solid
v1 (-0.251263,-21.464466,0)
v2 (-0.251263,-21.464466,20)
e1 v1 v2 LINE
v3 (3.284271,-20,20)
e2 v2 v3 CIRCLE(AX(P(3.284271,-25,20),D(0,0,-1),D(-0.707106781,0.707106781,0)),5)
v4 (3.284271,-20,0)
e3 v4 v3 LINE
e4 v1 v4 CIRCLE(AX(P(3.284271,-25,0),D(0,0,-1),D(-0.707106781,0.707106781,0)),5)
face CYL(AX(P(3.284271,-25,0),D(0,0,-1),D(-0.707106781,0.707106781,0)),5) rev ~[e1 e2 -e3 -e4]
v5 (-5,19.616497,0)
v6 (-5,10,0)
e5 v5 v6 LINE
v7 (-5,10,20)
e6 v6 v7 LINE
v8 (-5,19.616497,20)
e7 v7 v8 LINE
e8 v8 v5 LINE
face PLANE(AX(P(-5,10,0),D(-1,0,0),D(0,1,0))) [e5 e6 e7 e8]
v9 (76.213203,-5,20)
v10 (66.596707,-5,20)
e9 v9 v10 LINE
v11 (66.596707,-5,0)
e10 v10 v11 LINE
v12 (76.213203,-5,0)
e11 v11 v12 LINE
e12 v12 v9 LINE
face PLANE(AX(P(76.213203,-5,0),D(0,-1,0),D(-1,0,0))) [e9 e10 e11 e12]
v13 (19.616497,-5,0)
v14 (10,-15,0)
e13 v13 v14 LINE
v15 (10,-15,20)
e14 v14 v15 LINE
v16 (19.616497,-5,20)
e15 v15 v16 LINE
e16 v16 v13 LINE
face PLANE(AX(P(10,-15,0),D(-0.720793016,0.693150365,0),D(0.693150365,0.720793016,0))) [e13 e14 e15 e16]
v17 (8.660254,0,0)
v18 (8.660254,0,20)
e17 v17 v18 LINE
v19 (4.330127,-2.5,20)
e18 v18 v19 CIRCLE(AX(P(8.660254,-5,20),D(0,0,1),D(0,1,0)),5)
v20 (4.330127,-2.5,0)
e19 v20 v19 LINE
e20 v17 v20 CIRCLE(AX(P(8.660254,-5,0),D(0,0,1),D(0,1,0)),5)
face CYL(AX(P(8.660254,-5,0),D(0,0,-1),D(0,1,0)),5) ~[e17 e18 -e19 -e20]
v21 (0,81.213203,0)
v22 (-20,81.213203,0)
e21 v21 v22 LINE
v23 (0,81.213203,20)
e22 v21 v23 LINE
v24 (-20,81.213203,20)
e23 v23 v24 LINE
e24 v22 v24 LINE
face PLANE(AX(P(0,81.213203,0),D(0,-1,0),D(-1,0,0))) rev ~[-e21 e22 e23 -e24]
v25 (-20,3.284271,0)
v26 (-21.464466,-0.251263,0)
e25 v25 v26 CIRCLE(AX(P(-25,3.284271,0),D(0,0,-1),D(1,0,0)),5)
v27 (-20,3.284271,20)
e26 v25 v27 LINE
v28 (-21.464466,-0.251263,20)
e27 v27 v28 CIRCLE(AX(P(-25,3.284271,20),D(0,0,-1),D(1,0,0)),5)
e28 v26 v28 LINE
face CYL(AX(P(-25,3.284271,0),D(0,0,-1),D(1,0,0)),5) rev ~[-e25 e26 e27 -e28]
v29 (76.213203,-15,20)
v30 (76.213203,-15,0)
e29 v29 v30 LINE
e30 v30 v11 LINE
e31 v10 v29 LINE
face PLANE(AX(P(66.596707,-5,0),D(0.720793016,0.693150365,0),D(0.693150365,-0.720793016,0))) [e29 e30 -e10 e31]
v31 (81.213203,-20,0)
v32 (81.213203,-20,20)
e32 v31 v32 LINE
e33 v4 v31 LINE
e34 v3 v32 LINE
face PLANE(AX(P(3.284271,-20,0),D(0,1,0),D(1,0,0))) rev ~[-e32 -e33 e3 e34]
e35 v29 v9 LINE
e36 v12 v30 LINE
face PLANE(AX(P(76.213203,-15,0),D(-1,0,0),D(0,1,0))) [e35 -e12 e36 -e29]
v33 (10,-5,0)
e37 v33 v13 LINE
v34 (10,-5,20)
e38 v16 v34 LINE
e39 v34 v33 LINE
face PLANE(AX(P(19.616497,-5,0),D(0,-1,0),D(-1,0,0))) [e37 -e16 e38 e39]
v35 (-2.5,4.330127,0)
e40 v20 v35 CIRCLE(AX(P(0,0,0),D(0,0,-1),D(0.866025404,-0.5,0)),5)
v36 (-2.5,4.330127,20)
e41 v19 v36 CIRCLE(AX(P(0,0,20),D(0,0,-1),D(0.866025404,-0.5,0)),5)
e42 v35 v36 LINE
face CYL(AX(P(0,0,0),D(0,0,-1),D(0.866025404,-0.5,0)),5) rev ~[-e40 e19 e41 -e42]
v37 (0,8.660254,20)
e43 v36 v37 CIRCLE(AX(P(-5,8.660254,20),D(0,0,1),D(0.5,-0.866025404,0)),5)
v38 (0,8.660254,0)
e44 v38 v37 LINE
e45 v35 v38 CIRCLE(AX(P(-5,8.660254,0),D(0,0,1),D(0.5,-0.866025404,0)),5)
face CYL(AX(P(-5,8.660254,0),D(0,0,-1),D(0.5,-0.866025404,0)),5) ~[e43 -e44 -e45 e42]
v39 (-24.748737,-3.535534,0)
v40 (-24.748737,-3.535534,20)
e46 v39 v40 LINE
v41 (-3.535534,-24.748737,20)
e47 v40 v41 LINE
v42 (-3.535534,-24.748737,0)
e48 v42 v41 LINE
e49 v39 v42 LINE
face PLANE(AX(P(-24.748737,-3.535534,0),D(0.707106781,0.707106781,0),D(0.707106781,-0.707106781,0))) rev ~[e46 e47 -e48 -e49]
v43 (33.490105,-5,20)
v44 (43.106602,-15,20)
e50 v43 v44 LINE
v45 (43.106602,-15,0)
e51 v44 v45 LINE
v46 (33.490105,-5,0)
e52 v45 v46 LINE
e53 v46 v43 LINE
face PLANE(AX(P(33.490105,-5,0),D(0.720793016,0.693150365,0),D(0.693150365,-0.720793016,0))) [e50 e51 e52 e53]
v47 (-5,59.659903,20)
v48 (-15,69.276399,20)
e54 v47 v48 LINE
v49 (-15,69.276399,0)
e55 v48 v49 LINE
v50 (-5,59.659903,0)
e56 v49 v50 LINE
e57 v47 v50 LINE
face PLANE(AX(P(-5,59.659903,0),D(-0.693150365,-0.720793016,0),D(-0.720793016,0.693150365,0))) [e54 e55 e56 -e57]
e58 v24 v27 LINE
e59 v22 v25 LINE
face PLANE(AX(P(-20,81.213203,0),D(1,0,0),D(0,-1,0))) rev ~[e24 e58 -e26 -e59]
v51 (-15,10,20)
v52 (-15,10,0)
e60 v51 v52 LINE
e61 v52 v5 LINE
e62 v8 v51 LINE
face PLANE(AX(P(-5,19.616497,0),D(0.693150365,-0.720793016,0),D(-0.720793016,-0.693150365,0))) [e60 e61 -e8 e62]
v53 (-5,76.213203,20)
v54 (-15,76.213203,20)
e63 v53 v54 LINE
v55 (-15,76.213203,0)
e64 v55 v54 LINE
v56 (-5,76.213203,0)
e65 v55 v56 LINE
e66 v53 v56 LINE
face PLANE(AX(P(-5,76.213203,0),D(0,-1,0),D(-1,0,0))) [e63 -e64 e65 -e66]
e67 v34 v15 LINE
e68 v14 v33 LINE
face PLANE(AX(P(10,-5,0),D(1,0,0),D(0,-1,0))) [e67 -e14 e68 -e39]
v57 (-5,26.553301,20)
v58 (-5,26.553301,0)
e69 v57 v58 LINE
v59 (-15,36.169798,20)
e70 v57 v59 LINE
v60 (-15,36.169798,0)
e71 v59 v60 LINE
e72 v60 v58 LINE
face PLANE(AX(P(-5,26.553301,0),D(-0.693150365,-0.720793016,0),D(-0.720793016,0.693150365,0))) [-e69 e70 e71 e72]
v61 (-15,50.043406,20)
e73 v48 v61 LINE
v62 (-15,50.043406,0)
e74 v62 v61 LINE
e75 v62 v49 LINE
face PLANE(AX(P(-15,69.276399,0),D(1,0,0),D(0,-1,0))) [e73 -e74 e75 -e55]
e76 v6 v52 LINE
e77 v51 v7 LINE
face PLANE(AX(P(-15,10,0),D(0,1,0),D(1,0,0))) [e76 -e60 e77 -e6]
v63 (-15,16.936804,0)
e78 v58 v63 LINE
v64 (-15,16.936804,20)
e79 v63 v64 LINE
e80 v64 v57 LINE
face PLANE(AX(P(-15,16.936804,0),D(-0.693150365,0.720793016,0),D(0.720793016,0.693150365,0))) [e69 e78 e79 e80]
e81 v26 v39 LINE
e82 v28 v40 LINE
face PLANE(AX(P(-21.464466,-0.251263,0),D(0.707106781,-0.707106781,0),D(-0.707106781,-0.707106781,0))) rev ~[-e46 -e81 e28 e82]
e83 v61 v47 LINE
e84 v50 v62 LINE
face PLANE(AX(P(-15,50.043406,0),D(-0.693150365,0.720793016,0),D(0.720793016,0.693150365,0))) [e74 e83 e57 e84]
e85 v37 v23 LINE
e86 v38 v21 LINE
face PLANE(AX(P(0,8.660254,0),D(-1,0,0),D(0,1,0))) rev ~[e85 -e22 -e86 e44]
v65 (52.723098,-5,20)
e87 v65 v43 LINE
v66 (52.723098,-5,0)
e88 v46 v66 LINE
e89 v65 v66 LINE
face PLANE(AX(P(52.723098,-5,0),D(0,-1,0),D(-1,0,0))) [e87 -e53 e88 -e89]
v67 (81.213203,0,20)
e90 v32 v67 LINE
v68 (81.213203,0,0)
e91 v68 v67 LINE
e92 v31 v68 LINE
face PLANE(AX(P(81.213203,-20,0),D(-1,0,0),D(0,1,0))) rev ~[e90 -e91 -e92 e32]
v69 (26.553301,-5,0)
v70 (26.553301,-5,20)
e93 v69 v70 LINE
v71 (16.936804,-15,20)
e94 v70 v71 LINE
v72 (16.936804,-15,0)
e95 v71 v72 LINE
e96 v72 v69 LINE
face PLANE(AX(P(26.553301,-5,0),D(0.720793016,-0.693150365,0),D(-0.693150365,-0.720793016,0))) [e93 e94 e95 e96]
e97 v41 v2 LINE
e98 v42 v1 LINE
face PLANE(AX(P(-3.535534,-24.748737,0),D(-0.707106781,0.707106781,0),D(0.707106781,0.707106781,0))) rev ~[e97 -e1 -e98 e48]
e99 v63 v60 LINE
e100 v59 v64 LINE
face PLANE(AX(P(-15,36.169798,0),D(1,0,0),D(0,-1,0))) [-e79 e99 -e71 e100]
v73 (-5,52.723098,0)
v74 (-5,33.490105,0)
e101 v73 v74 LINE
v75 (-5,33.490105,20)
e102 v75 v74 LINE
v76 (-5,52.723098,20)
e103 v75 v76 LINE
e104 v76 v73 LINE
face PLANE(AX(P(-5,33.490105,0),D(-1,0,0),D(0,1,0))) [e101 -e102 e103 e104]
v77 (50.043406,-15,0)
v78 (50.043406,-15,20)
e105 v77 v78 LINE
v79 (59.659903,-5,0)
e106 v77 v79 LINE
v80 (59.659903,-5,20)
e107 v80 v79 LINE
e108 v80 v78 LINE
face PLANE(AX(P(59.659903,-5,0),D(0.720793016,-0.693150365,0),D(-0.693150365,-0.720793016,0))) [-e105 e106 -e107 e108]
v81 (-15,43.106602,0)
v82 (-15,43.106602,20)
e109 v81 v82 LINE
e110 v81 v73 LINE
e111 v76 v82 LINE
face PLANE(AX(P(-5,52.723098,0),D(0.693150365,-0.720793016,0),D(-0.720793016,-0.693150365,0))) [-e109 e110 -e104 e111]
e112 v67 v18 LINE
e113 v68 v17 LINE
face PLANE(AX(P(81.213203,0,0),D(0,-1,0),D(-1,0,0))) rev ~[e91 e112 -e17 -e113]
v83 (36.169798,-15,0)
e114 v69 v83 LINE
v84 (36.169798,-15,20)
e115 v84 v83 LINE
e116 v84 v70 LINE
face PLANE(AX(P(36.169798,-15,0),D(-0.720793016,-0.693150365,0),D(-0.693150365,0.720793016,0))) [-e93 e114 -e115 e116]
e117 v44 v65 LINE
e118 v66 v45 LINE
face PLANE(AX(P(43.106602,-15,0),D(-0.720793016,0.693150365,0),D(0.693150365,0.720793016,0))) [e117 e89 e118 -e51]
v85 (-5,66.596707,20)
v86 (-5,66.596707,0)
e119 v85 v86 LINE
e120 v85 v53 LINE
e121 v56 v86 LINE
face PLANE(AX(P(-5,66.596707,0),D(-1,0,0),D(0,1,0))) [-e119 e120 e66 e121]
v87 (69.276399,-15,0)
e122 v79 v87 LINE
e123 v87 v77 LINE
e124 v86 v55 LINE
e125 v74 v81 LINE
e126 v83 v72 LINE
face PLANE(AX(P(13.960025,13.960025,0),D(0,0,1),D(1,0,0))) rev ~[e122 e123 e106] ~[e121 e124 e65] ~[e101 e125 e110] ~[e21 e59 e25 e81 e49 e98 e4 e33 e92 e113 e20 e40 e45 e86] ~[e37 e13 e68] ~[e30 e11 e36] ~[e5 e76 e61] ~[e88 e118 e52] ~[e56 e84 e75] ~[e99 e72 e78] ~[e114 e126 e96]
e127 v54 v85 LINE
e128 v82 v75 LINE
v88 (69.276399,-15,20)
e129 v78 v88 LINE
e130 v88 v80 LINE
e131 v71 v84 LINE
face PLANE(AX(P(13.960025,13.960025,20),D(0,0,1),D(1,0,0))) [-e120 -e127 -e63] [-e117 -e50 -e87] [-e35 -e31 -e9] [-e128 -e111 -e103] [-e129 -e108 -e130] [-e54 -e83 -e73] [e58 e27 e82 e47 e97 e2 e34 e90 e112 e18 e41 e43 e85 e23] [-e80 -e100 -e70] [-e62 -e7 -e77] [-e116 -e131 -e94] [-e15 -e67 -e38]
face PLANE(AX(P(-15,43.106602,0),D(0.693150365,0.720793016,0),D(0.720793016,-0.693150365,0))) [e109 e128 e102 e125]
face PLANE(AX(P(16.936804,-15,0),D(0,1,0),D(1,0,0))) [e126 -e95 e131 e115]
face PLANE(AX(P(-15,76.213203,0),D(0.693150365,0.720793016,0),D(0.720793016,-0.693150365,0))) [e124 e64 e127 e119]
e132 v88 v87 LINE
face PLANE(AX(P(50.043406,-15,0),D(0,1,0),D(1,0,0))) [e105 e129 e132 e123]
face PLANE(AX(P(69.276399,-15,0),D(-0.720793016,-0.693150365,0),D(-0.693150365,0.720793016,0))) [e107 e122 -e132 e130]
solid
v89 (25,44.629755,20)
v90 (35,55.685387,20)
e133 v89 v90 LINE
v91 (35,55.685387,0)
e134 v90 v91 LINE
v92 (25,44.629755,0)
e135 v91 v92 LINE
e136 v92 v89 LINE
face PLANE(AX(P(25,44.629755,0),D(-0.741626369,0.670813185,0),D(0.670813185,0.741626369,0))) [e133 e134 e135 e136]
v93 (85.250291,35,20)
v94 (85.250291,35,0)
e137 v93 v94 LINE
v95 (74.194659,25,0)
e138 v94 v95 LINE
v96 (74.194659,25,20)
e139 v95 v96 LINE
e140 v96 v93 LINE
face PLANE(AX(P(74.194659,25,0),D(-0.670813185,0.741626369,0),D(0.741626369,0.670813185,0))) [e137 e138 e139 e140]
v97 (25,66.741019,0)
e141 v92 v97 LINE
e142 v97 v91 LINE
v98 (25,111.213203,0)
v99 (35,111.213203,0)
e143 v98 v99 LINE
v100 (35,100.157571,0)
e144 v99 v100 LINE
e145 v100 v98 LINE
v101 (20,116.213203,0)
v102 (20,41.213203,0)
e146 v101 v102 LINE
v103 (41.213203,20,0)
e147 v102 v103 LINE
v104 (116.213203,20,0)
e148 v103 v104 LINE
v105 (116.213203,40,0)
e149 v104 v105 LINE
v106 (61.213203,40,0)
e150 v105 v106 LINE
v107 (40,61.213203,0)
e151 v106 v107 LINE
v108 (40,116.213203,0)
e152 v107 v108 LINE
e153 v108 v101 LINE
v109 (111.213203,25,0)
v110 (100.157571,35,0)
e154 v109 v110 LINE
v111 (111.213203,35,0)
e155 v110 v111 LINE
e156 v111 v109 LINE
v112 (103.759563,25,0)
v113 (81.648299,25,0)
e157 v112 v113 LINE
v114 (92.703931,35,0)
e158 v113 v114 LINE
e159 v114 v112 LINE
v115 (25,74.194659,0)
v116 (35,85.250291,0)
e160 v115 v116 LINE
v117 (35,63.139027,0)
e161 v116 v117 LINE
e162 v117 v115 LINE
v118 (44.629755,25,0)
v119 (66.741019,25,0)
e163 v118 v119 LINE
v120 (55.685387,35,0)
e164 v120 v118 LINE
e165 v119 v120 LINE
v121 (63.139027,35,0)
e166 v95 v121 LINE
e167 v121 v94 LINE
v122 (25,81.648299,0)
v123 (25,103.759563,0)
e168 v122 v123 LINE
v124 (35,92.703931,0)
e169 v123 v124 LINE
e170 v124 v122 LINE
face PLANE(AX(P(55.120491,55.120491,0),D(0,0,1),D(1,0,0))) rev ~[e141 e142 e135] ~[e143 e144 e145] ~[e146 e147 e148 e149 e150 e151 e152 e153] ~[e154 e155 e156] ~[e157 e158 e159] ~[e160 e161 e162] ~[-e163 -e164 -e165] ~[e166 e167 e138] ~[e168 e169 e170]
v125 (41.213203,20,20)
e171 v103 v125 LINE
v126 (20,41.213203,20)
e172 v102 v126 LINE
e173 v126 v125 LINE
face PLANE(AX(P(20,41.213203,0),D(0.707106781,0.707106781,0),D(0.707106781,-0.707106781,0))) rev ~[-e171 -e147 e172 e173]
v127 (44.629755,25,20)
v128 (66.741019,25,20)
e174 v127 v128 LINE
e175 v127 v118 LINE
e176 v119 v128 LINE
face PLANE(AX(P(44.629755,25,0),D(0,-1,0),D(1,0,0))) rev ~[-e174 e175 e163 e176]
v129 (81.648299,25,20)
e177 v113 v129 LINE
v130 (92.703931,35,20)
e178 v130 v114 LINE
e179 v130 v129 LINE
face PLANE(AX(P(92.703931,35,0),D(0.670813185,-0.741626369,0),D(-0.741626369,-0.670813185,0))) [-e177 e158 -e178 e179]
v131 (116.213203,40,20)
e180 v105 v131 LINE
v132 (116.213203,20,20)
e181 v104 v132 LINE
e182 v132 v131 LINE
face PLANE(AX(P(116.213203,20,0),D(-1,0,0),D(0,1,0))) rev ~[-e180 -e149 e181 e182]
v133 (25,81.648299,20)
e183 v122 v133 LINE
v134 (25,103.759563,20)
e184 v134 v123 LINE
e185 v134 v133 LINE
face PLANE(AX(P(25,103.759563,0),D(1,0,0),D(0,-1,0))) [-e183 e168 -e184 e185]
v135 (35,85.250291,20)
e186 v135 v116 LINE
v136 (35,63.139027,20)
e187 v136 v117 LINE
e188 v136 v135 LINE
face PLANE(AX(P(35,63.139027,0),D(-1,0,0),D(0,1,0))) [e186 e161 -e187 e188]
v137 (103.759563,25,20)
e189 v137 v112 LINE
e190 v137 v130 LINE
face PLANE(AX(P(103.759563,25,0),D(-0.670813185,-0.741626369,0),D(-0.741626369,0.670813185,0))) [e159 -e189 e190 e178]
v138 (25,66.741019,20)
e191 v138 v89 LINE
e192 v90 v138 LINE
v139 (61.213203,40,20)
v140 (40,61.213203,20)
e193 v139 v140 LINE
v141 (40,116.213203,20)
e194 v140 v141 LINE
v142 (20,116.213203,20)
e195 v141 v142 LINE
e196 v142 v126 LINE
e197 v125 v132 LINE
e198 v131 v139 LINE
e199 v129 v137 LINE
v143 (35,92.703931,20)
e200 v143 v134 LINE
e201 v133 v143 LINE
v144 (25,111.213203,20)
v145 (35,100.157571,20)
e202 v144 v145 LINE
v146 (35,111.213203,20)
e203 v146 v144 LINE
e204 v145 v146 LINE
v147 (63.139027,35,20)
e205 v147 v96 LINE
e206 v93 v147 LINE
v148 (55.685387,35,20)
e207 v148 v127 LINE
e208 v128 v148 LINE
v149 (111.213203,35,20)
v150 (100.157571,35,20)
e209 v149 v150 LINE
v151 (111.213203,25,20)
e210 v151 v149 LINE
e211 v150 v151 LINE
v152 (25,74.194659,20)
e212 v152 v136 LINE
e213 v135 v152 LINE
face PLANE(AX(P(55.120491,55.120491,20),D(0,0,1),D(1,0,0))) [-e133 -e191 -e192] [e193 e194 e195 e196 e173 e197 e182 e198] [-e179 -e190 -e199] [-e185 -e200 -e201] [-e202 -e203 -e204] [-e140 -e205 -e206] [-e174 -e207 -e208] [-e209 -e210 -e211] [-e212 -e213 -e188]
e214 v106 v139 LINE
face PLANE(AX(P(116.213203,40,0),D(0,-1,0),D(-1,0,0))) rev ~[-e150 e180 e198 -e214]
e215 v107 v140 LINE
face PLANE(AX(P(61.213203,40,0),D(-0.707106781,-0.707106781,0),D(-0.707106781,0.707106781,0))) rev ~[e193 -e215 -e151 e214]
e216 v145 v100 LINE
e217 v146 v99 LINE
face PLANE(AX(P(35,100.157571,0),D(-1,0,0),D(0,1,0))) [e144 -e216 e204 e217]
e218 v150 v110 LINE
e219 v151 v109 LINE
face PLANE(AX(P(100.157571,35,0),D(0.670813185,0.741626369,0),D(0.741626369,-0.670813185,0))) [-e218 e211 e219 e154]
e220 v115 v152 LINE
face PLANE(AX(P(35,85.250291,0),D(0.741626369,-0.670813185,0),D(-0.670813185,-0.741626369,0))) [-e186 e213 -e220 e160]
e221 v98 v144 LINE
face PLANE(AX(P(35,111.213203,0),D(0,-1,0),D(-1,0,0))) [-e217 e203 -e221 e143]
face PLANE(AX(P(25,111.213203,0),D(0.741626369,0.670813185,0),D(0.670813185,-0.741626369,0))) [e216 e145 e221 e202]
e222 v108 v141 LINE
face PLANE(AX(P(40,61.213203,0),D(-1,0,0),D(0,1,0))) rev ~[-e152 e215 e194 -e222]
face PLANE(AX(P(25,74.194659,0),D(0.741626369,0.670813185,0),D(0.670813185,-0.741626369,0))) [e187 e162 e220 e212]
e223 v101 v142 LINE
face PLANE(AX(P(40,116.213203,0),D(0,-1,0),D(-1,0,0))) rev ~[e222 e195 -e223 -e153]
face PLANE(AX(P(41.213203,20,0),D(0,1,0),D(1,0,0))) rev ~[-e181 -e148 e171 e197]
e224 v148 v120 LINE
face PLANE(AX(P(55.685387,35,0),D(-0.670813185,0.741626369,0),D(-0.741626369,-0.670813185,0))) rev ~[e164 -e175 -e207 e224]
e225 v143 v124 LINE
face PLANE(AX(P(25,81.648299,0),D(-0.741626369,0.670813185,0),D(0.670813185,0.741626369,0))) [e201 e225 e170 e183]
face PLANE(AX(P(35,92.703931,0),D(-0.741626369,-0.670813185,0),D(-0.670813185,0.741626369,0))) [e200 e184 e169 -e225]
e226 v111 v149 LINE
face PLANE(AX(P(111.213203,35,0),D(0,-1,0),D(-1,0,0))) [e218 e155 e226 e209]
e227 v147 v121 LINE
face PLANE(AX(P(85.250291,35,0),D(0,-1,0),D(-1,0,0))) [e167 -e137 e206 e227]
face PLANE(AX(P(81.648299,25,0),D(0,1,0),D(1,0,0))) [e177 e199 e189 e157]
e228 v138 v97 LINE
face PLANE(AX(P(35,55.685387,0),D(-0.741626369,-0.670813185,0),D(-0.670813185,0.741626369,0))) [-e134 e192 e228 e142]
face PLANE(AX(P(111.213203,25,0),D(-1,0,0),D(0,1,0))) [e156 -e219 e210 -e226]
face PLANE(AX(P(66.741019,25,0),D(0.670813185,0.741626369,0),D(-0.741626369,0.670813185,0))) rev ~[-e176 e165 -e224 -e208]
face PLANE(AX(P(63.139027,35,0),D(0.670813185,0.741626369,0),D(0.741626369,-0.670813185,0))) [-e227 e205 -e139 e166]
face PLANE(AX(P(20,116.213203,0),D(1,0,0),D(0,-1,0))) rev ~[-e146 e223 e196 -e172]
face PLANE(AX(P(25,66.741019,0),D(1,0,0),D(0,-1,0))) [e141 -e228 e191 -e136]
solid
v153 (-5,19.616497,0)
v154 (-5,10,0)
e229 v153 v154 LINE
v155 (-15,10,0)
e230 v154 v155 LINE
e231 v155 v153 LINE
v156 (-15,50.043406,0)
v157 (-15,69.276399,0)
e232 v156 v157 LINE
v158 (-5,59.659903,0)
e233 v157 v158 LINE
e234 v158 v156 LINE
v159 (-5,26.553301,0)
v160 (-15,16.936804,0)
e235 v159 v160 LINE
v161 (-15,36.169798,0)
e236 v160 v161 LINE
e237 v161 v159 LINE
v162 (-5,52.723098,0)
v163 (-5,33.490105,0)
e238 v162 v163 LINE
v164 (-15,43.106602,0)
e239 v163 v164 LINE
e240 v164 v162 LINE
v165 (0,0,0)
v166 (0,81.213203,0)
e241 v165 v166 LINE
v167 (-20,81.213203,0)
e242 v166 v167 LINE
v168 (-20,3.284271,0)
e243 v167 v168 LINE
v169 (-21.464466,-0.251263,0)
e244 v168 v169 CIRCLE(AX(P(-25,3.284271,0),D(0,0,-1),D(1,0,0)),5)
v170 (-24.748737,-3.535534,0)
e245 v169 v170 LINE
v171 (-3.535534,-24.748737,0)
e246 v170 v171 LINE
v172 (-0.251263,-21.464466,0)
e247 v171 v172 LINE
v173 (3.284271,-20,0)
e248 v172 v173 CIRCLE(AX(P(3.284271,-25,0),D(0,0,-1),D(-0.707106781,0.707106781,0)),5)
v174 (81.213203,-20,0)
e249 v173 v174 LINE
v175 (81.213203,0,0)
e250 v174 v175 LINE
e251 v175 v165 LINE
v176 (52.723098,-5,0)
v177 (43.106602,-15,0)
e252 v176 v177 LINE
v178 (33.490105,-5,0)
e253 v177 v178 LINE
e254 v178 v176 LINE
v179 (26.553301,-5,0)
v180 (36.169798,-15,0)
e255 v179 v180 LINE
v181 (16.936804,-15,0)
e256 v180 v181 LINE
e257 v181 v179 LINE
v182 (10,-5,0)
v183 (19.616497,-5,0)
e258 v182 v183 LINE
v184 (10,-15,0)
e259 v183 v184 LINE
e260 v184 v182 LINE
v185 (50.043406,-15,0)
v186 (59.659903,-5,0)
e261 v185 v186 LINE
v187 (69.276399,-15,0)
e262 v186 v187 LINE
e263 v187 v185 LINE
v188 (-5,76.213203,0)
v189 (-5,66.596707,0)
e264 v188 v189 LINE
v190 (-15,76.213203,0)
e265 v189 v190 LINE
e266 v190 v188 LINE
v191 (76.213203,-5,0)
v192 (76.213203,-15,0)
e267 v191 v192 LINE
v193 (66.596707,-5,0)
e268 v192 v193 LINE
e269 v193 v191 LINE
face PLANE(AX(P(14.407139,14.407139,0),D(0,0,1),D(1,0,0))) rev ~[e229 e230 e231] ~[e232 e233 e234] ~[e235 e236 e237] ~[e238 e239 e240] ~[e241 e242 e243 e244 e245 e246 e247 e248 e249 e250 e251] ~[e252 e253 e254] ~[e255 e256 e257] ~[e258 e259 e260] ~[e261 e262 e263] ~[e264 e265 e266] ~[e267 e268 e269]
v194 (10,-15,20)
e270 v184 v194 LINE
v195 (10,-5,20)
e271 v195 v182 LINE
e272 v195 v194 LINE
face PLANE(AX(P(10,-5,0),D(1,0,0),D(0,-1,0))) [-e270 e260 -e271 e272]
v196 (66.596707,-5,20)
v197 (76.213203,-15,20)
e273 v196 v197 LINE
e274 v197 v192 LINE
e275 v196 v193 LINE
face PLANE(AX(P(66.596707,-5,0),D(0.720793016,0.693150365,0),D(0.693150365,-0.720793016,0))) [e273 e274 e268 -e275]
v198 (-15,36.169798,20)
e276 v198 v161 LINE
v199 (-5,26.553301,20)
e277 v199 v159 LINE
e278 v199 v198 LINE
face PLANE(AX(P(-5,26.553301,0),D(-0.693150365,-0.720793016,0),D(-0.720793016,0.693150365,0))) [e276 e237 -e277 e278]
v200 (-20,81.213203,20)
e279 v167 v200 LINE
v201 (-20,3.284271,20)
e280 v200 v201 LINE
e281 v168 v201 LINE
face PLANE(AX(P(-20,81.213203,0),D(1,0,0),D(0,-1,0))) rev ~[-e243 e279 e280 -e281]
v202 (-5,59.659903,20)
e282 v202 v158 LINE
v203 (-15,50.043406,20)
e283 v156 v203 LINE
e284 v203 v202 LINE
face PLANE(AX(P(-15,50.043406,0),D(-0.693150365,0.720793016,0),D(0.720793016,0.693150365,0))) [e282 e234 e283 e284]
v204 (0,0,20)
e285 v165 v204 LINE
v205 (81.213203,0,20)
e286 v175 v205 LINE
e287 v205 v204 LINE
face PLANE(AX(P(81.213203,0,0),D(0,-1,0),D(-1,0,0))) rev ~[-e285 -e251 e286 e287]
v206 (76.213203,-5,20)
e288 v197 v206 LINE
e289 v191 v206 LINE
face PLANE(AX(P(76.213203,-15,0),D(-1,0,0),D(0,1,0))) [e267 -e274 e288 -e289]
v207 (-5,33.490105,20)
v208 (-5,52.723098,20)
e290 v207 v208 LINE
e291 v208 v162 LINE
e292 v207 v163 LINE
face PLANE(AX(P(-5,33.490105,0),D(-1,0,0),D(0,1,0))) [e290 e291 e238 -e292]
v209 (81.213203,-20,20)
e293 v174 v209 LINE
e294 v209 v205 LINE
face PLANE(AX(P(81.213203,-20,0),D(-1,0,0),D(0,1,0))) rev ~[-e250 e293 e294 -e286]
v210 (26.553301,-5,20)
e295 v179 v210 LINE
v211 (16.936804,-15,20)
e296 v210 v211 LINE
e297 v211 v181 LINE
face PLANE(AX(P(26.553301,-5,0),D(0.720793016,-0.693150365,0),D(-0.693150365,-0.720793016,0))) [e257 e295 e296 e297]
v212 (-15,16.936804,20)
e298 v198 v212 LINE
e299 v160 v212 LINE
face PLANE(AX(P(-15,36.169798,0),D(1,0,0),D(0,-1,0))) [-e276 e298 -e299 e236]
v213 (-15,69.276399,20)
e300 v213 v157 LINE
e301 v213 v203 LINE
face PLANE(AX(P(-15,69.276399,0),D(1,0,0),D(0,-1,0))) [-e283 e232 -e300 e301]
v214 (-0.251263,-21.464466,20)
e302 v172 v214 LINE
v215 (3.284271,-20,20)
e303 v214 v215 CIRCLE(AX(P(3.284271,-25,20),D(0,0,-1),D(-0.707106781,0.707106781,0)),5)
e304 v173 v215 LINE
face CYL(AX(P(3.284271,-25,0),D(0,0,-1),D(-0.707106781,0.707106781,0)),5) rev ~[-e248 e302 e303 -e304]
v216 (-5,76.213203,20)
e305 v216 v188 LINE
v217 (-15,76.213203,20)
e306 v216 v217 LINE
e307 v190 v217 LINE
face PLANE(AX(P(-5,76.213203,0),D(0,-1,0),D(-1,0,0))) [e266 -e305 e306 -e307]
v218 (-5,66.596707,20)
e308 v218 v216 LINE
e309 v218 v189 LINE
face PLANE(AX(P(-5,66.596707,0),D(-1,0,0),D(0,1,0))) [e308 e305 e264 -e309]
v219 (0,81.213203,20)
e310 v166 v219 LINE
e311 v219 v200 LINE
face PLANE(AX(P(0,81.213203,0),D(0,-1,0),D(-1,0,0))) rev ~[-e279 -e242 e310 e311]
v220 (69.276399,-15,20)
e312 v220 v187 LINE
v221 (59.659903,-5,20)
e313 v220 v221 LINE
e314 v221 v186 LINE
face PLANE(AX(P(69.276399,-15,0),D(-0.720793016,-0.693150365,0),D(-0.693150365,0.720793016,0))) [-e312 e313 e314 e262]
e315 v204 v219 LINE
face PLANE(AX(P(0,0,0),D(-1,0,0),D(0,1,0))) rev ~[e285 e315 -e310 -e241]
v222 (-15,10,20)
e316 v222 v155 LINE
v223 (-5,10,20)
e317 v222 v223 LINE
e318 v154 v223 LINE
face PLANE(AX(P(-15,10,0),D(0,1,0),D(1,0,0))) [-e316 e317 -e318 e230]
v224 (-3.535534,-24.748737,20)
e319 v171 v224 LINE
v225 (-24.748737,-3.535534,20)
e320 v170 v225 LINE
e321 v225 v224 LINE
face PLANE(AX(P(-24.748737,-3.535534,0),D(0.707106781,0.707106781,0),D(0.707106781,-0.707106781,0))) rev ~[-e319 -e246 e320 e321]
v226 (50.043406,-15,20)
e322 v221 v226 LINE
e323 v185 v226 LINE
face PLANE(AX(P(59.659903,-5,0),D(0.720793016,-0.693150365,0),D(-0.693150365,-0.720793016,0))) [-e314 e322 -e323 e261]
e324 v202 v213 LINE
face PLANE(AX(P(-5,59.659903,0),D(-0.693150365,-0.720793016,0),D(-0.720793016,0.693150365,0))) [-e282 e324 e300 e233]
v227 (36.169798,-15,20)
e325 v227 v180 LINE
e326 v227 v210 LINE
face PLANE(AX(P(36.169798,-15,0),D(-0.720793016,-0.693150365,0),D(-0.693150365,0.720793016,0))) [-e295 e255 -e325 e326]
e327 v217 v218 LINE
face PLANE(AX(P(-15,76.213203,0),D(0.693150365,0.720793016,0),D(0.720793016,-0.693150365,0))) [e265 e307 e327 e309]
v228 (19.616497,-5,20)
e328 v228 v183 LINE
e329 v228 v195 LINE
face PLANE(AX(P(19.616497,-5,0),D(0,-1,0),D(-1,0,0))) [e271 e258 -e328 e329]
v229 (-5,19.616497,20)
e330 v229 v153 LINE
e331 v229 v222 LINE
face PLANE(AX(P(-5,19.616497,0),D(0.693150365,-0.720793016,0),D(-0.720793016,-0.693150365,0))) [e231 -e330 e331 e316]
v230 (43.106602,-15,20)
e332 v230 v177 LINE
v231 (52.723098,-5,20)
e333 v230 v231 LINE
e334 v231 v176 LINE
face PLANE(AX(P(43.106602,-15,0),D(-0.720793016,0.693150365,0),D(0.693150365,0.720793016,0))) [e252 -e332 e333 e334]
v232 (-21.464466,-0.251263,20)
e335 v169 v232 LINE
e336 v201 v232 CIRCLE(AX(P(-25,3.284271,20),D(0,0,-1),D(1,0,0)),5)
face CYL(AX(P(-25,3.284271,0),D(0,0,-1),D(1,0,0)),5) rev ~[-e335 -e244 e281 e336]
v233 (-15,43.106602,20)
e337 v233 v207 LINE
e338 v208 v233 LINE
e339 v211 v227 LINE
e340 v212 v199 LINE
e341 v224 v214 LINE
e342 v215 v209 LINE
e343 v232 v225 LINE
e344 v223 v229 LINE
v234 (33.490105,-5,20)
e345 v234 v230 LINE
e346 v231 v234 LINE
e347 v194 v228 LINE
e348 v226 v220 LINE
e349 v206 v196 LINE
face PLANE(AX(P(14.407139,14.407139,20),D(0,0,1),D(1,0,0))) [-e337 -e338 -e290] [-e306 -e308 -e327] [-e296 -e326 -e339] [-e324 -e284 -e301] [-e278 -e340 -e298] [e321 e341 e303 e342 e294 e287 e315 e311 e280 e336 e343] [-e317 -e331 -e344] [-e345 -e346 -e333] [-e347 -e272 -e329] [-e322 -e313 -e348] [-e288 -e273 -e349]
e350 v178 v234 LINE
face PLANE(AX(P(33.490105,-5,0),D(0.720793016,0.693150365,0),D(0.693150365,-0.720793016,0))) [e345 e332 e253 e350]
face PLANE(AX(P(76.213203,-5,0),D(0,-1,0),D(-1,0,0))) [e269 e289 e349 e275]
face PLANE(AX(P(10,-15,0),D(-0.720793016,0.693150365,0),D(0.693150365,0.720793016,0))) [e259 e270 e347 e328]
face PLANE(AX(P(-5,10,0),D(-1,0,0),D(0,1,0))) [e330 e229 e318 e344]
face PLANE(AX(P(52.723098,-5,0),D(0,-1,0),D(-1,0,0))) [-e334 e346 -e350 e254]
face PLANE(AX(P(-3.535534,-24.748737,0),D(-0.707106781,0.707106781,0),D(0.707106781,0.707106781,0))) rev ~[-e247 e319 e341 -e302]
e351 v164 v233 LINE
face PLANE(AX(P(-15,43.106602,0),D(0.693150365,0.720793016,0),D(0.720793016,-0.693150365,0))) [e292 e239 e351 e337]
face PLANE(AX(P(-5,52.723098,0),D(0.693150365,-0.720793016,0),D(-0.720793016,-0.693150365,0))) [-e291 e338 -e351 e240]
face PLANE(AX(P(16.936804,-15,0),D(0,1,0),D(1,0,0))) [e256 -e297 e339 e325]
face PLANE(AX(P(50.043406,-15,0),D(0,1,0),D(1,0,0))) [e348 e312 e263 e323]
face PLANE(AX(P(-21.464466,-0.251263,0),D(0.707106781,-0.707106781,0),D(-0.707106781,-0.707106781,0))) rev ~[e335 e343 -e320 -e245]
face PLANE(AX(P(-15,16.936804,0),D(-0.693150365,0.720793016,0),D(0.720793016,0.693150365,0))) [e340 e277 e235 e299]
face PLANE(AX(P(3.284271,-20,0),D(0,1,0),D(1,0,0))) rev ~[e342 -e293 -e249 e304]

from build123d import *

# Parameters (mm, degrees)
F3_DEPTH = 20
F4_DEPTH = 20
F6_DEPTH = 20


with BuildPart() as f3:
    # F2 (on Top) → F3 (new body)
    with BuildSketch(Plane.XY):
        Polygon((40, 61.2132034356), (40, 116.2132034356), (20, 116.2132034356), (20, 41.2132034356), (41.2132034356, 20), (116.2132034356, 20), (116.2132034356, 40), (61.2132034356, 40), align=None)
    extrude(amount=F3_DEPTH)


with BuildPart() as f3b:
    # F2 (on Top) → F3, piece 2 (new body)
    with BuildSketch(Plane.XY):
        with BuildLine():
            Line((81.2132034356, 0), (0, 0))
            Line((0, 0), (0, 81.2132034356))
            Line((0, 81.2132034356), (-20, 81.2132034356))
            Line((-20, 81.2132034356), (-20, 3.2842712475))
            ThreePointArc((-20, 3.2842712475), (-20.3806023374, 1.3708540856), (-21.4644660941, -0.2512626585))
            Line((-21.4644660941, -0.2512626585), (-24.7487373415, -3.5355339059))
            Line((-24.7487373415, -3.5355339059), (-3.5355339059, -24.7487373415))
            Line((-3.5355339059, -24.7487373415), (-0.2512626585, -21.4644660941))
            ThreePointArc((-0.2512626585, -21.4644660941), (1.3708540856, -20.3806023374), (3.2842712475, -20))
            Line((3.2842712475, -20), (81.2132034356, -20))
            Line((81.2132034356, -20), (81.2132034356, 0))
        make_face()
    extrude(amount=F3_DEPTH)


with BuildPart() as f4:
    # F1 (on Top) → F4 (new body)
    with BuildSketch(Plane.XY):
        with BuildLine():
            ThreePointArc((-2.5, 4.3301270189), (-0.6698729811, 6.1602540378), (0, 8.6602540378))
            Line((0, 8.6602540378), (0, 81.2132034356))
            Line((0, 81.2132034356), (-20, 81.2132034356))
            Line((-20, 81.2132034356), (-20, 3.2842712475))
            ThreePointArc((-20, 3.2842712475), (-20.3806023374, 1.3708540856), (-21.4644660941, -0.2512626585))
            Line((-21.4644660941, -0.2512626585), (-24.7487373415, -3.5355339059))
            Line((-24.7487373415, -3.5355339059), (-3.5355339059, -24.7487373415))
            Line((-3.5355339059, -24.7487373415), (-0.2512626585, -21.4644660941))
            ThreePointArc((-0.2512626585, -21.4644660941), (1.3708540856, -20.3806023374), (3.2842712475, -20))
            Line((3.2842712475, -20), (81.2132034356, -20))
            Line((81.2132034356, -20), (81.2132034356, 0))
            Line((81.2132034356, 0), (8.6602540378, 0))
            ThreePointArc((8.6602540378, 0), (6.1602540378, -0.6698729811), (4.3301270189, -2.5))
            ThreePointArc((4.3301270189, -2.5), (-3.5355339059, -3.5355339059), (-2.5, 4.3301270189))
        make_face()
    extrude(amount=F4_DEPTH)


with BuildPart() as f6_tool:
    # F5 (on Top) → F6 (new body, symmetric)
    with BuildSketch(Plane.XY):
        Polygon((-15, 10), (-5, 10), (-5, 19.6164966863), align=None)
        Polygon((-15, 36.1697975452), (-15, 16.9368041726), (-5, 26.5533008589), align=None)
        Polygon((-5, 52.7230984041), (-15, 43.1066017178), (-5, 33.4901050315), align=None)
        Polygon((-15, 69.276399263), (-15, 50.0434058904), (-5, 59.6599025767), align=None)
        Polygon((-5, 76.2132034356), (-15, 76.2132034356), (-5, 66.5967067493), align=None)
        Polygon((52.7230984041, -5), (33.4901050315, -5), (43.1066017178, -15), align=None)
        Polygon((76.2132034356, -15), (76.2132034356, -5), (66.5967067493, -5), align=None)
        Polygon((36.1697975452, -15), (26.5533008589, -5), (16.9368041726, -15), align=None)
        Polygon((10, -5), (10, -15), (19.6164966863, -5), align=None)
        Polygon((59.6599025767, -5), (50.0434058904, -15), (69.276399263, -15), align=None)
        Polygon((25, 66.7410194222), (25, 44.6297554757), (35, 55.685387449), align=None)
        Polygon((35, 85.2502914178), (25, 74.1946594445), (35, 63.1390274713), align=None)
        Polygon((25, 103.7595634133), (25, 81.6482994668), (35, 92.7039314401), align=None)
        Polygon((35, 111.2132034356), (25, 111.2132034356), (35, 100.1575714624), align=None)
        Polygon((63.1390274713, 35), (74.1946594445, 25), (85.2502914178, 35), align=None)
        Polygon((92.7039314401, 35), (81.6482994668, 25), (103.7595634133, 25), align=None)
        Polygon((111.2132034356, 25), (111.2132034356, 35), (100.1575714624, 35), align=None)
        Polygon((44.6297554757, 25), (66.7410194222, 25), (55.685387449, 35), align=None)
    extrude(amount=F6_DEPTH, both=True)


with BuildPart() as f3_1:
    add(f3.part)

    # F6: cut by f6_tool
    add(f6_tool.part, mode=Mode.SUBTRACT)


with BuildPart() as f3b_1:
    add(f3b.part)

    # F6: cut by f6_tool
    add(f6_tool.part, mode=Mode.SUBTRACT)


with BuildPart() as f4_1:
    add(f4.part)

    # F6: cut by f6_tool
    add(f6_tool.part, mode=Mode.SUBTRACT)


solid = Compound([f3_1.part, f3b_1.part, f4_1.part])
